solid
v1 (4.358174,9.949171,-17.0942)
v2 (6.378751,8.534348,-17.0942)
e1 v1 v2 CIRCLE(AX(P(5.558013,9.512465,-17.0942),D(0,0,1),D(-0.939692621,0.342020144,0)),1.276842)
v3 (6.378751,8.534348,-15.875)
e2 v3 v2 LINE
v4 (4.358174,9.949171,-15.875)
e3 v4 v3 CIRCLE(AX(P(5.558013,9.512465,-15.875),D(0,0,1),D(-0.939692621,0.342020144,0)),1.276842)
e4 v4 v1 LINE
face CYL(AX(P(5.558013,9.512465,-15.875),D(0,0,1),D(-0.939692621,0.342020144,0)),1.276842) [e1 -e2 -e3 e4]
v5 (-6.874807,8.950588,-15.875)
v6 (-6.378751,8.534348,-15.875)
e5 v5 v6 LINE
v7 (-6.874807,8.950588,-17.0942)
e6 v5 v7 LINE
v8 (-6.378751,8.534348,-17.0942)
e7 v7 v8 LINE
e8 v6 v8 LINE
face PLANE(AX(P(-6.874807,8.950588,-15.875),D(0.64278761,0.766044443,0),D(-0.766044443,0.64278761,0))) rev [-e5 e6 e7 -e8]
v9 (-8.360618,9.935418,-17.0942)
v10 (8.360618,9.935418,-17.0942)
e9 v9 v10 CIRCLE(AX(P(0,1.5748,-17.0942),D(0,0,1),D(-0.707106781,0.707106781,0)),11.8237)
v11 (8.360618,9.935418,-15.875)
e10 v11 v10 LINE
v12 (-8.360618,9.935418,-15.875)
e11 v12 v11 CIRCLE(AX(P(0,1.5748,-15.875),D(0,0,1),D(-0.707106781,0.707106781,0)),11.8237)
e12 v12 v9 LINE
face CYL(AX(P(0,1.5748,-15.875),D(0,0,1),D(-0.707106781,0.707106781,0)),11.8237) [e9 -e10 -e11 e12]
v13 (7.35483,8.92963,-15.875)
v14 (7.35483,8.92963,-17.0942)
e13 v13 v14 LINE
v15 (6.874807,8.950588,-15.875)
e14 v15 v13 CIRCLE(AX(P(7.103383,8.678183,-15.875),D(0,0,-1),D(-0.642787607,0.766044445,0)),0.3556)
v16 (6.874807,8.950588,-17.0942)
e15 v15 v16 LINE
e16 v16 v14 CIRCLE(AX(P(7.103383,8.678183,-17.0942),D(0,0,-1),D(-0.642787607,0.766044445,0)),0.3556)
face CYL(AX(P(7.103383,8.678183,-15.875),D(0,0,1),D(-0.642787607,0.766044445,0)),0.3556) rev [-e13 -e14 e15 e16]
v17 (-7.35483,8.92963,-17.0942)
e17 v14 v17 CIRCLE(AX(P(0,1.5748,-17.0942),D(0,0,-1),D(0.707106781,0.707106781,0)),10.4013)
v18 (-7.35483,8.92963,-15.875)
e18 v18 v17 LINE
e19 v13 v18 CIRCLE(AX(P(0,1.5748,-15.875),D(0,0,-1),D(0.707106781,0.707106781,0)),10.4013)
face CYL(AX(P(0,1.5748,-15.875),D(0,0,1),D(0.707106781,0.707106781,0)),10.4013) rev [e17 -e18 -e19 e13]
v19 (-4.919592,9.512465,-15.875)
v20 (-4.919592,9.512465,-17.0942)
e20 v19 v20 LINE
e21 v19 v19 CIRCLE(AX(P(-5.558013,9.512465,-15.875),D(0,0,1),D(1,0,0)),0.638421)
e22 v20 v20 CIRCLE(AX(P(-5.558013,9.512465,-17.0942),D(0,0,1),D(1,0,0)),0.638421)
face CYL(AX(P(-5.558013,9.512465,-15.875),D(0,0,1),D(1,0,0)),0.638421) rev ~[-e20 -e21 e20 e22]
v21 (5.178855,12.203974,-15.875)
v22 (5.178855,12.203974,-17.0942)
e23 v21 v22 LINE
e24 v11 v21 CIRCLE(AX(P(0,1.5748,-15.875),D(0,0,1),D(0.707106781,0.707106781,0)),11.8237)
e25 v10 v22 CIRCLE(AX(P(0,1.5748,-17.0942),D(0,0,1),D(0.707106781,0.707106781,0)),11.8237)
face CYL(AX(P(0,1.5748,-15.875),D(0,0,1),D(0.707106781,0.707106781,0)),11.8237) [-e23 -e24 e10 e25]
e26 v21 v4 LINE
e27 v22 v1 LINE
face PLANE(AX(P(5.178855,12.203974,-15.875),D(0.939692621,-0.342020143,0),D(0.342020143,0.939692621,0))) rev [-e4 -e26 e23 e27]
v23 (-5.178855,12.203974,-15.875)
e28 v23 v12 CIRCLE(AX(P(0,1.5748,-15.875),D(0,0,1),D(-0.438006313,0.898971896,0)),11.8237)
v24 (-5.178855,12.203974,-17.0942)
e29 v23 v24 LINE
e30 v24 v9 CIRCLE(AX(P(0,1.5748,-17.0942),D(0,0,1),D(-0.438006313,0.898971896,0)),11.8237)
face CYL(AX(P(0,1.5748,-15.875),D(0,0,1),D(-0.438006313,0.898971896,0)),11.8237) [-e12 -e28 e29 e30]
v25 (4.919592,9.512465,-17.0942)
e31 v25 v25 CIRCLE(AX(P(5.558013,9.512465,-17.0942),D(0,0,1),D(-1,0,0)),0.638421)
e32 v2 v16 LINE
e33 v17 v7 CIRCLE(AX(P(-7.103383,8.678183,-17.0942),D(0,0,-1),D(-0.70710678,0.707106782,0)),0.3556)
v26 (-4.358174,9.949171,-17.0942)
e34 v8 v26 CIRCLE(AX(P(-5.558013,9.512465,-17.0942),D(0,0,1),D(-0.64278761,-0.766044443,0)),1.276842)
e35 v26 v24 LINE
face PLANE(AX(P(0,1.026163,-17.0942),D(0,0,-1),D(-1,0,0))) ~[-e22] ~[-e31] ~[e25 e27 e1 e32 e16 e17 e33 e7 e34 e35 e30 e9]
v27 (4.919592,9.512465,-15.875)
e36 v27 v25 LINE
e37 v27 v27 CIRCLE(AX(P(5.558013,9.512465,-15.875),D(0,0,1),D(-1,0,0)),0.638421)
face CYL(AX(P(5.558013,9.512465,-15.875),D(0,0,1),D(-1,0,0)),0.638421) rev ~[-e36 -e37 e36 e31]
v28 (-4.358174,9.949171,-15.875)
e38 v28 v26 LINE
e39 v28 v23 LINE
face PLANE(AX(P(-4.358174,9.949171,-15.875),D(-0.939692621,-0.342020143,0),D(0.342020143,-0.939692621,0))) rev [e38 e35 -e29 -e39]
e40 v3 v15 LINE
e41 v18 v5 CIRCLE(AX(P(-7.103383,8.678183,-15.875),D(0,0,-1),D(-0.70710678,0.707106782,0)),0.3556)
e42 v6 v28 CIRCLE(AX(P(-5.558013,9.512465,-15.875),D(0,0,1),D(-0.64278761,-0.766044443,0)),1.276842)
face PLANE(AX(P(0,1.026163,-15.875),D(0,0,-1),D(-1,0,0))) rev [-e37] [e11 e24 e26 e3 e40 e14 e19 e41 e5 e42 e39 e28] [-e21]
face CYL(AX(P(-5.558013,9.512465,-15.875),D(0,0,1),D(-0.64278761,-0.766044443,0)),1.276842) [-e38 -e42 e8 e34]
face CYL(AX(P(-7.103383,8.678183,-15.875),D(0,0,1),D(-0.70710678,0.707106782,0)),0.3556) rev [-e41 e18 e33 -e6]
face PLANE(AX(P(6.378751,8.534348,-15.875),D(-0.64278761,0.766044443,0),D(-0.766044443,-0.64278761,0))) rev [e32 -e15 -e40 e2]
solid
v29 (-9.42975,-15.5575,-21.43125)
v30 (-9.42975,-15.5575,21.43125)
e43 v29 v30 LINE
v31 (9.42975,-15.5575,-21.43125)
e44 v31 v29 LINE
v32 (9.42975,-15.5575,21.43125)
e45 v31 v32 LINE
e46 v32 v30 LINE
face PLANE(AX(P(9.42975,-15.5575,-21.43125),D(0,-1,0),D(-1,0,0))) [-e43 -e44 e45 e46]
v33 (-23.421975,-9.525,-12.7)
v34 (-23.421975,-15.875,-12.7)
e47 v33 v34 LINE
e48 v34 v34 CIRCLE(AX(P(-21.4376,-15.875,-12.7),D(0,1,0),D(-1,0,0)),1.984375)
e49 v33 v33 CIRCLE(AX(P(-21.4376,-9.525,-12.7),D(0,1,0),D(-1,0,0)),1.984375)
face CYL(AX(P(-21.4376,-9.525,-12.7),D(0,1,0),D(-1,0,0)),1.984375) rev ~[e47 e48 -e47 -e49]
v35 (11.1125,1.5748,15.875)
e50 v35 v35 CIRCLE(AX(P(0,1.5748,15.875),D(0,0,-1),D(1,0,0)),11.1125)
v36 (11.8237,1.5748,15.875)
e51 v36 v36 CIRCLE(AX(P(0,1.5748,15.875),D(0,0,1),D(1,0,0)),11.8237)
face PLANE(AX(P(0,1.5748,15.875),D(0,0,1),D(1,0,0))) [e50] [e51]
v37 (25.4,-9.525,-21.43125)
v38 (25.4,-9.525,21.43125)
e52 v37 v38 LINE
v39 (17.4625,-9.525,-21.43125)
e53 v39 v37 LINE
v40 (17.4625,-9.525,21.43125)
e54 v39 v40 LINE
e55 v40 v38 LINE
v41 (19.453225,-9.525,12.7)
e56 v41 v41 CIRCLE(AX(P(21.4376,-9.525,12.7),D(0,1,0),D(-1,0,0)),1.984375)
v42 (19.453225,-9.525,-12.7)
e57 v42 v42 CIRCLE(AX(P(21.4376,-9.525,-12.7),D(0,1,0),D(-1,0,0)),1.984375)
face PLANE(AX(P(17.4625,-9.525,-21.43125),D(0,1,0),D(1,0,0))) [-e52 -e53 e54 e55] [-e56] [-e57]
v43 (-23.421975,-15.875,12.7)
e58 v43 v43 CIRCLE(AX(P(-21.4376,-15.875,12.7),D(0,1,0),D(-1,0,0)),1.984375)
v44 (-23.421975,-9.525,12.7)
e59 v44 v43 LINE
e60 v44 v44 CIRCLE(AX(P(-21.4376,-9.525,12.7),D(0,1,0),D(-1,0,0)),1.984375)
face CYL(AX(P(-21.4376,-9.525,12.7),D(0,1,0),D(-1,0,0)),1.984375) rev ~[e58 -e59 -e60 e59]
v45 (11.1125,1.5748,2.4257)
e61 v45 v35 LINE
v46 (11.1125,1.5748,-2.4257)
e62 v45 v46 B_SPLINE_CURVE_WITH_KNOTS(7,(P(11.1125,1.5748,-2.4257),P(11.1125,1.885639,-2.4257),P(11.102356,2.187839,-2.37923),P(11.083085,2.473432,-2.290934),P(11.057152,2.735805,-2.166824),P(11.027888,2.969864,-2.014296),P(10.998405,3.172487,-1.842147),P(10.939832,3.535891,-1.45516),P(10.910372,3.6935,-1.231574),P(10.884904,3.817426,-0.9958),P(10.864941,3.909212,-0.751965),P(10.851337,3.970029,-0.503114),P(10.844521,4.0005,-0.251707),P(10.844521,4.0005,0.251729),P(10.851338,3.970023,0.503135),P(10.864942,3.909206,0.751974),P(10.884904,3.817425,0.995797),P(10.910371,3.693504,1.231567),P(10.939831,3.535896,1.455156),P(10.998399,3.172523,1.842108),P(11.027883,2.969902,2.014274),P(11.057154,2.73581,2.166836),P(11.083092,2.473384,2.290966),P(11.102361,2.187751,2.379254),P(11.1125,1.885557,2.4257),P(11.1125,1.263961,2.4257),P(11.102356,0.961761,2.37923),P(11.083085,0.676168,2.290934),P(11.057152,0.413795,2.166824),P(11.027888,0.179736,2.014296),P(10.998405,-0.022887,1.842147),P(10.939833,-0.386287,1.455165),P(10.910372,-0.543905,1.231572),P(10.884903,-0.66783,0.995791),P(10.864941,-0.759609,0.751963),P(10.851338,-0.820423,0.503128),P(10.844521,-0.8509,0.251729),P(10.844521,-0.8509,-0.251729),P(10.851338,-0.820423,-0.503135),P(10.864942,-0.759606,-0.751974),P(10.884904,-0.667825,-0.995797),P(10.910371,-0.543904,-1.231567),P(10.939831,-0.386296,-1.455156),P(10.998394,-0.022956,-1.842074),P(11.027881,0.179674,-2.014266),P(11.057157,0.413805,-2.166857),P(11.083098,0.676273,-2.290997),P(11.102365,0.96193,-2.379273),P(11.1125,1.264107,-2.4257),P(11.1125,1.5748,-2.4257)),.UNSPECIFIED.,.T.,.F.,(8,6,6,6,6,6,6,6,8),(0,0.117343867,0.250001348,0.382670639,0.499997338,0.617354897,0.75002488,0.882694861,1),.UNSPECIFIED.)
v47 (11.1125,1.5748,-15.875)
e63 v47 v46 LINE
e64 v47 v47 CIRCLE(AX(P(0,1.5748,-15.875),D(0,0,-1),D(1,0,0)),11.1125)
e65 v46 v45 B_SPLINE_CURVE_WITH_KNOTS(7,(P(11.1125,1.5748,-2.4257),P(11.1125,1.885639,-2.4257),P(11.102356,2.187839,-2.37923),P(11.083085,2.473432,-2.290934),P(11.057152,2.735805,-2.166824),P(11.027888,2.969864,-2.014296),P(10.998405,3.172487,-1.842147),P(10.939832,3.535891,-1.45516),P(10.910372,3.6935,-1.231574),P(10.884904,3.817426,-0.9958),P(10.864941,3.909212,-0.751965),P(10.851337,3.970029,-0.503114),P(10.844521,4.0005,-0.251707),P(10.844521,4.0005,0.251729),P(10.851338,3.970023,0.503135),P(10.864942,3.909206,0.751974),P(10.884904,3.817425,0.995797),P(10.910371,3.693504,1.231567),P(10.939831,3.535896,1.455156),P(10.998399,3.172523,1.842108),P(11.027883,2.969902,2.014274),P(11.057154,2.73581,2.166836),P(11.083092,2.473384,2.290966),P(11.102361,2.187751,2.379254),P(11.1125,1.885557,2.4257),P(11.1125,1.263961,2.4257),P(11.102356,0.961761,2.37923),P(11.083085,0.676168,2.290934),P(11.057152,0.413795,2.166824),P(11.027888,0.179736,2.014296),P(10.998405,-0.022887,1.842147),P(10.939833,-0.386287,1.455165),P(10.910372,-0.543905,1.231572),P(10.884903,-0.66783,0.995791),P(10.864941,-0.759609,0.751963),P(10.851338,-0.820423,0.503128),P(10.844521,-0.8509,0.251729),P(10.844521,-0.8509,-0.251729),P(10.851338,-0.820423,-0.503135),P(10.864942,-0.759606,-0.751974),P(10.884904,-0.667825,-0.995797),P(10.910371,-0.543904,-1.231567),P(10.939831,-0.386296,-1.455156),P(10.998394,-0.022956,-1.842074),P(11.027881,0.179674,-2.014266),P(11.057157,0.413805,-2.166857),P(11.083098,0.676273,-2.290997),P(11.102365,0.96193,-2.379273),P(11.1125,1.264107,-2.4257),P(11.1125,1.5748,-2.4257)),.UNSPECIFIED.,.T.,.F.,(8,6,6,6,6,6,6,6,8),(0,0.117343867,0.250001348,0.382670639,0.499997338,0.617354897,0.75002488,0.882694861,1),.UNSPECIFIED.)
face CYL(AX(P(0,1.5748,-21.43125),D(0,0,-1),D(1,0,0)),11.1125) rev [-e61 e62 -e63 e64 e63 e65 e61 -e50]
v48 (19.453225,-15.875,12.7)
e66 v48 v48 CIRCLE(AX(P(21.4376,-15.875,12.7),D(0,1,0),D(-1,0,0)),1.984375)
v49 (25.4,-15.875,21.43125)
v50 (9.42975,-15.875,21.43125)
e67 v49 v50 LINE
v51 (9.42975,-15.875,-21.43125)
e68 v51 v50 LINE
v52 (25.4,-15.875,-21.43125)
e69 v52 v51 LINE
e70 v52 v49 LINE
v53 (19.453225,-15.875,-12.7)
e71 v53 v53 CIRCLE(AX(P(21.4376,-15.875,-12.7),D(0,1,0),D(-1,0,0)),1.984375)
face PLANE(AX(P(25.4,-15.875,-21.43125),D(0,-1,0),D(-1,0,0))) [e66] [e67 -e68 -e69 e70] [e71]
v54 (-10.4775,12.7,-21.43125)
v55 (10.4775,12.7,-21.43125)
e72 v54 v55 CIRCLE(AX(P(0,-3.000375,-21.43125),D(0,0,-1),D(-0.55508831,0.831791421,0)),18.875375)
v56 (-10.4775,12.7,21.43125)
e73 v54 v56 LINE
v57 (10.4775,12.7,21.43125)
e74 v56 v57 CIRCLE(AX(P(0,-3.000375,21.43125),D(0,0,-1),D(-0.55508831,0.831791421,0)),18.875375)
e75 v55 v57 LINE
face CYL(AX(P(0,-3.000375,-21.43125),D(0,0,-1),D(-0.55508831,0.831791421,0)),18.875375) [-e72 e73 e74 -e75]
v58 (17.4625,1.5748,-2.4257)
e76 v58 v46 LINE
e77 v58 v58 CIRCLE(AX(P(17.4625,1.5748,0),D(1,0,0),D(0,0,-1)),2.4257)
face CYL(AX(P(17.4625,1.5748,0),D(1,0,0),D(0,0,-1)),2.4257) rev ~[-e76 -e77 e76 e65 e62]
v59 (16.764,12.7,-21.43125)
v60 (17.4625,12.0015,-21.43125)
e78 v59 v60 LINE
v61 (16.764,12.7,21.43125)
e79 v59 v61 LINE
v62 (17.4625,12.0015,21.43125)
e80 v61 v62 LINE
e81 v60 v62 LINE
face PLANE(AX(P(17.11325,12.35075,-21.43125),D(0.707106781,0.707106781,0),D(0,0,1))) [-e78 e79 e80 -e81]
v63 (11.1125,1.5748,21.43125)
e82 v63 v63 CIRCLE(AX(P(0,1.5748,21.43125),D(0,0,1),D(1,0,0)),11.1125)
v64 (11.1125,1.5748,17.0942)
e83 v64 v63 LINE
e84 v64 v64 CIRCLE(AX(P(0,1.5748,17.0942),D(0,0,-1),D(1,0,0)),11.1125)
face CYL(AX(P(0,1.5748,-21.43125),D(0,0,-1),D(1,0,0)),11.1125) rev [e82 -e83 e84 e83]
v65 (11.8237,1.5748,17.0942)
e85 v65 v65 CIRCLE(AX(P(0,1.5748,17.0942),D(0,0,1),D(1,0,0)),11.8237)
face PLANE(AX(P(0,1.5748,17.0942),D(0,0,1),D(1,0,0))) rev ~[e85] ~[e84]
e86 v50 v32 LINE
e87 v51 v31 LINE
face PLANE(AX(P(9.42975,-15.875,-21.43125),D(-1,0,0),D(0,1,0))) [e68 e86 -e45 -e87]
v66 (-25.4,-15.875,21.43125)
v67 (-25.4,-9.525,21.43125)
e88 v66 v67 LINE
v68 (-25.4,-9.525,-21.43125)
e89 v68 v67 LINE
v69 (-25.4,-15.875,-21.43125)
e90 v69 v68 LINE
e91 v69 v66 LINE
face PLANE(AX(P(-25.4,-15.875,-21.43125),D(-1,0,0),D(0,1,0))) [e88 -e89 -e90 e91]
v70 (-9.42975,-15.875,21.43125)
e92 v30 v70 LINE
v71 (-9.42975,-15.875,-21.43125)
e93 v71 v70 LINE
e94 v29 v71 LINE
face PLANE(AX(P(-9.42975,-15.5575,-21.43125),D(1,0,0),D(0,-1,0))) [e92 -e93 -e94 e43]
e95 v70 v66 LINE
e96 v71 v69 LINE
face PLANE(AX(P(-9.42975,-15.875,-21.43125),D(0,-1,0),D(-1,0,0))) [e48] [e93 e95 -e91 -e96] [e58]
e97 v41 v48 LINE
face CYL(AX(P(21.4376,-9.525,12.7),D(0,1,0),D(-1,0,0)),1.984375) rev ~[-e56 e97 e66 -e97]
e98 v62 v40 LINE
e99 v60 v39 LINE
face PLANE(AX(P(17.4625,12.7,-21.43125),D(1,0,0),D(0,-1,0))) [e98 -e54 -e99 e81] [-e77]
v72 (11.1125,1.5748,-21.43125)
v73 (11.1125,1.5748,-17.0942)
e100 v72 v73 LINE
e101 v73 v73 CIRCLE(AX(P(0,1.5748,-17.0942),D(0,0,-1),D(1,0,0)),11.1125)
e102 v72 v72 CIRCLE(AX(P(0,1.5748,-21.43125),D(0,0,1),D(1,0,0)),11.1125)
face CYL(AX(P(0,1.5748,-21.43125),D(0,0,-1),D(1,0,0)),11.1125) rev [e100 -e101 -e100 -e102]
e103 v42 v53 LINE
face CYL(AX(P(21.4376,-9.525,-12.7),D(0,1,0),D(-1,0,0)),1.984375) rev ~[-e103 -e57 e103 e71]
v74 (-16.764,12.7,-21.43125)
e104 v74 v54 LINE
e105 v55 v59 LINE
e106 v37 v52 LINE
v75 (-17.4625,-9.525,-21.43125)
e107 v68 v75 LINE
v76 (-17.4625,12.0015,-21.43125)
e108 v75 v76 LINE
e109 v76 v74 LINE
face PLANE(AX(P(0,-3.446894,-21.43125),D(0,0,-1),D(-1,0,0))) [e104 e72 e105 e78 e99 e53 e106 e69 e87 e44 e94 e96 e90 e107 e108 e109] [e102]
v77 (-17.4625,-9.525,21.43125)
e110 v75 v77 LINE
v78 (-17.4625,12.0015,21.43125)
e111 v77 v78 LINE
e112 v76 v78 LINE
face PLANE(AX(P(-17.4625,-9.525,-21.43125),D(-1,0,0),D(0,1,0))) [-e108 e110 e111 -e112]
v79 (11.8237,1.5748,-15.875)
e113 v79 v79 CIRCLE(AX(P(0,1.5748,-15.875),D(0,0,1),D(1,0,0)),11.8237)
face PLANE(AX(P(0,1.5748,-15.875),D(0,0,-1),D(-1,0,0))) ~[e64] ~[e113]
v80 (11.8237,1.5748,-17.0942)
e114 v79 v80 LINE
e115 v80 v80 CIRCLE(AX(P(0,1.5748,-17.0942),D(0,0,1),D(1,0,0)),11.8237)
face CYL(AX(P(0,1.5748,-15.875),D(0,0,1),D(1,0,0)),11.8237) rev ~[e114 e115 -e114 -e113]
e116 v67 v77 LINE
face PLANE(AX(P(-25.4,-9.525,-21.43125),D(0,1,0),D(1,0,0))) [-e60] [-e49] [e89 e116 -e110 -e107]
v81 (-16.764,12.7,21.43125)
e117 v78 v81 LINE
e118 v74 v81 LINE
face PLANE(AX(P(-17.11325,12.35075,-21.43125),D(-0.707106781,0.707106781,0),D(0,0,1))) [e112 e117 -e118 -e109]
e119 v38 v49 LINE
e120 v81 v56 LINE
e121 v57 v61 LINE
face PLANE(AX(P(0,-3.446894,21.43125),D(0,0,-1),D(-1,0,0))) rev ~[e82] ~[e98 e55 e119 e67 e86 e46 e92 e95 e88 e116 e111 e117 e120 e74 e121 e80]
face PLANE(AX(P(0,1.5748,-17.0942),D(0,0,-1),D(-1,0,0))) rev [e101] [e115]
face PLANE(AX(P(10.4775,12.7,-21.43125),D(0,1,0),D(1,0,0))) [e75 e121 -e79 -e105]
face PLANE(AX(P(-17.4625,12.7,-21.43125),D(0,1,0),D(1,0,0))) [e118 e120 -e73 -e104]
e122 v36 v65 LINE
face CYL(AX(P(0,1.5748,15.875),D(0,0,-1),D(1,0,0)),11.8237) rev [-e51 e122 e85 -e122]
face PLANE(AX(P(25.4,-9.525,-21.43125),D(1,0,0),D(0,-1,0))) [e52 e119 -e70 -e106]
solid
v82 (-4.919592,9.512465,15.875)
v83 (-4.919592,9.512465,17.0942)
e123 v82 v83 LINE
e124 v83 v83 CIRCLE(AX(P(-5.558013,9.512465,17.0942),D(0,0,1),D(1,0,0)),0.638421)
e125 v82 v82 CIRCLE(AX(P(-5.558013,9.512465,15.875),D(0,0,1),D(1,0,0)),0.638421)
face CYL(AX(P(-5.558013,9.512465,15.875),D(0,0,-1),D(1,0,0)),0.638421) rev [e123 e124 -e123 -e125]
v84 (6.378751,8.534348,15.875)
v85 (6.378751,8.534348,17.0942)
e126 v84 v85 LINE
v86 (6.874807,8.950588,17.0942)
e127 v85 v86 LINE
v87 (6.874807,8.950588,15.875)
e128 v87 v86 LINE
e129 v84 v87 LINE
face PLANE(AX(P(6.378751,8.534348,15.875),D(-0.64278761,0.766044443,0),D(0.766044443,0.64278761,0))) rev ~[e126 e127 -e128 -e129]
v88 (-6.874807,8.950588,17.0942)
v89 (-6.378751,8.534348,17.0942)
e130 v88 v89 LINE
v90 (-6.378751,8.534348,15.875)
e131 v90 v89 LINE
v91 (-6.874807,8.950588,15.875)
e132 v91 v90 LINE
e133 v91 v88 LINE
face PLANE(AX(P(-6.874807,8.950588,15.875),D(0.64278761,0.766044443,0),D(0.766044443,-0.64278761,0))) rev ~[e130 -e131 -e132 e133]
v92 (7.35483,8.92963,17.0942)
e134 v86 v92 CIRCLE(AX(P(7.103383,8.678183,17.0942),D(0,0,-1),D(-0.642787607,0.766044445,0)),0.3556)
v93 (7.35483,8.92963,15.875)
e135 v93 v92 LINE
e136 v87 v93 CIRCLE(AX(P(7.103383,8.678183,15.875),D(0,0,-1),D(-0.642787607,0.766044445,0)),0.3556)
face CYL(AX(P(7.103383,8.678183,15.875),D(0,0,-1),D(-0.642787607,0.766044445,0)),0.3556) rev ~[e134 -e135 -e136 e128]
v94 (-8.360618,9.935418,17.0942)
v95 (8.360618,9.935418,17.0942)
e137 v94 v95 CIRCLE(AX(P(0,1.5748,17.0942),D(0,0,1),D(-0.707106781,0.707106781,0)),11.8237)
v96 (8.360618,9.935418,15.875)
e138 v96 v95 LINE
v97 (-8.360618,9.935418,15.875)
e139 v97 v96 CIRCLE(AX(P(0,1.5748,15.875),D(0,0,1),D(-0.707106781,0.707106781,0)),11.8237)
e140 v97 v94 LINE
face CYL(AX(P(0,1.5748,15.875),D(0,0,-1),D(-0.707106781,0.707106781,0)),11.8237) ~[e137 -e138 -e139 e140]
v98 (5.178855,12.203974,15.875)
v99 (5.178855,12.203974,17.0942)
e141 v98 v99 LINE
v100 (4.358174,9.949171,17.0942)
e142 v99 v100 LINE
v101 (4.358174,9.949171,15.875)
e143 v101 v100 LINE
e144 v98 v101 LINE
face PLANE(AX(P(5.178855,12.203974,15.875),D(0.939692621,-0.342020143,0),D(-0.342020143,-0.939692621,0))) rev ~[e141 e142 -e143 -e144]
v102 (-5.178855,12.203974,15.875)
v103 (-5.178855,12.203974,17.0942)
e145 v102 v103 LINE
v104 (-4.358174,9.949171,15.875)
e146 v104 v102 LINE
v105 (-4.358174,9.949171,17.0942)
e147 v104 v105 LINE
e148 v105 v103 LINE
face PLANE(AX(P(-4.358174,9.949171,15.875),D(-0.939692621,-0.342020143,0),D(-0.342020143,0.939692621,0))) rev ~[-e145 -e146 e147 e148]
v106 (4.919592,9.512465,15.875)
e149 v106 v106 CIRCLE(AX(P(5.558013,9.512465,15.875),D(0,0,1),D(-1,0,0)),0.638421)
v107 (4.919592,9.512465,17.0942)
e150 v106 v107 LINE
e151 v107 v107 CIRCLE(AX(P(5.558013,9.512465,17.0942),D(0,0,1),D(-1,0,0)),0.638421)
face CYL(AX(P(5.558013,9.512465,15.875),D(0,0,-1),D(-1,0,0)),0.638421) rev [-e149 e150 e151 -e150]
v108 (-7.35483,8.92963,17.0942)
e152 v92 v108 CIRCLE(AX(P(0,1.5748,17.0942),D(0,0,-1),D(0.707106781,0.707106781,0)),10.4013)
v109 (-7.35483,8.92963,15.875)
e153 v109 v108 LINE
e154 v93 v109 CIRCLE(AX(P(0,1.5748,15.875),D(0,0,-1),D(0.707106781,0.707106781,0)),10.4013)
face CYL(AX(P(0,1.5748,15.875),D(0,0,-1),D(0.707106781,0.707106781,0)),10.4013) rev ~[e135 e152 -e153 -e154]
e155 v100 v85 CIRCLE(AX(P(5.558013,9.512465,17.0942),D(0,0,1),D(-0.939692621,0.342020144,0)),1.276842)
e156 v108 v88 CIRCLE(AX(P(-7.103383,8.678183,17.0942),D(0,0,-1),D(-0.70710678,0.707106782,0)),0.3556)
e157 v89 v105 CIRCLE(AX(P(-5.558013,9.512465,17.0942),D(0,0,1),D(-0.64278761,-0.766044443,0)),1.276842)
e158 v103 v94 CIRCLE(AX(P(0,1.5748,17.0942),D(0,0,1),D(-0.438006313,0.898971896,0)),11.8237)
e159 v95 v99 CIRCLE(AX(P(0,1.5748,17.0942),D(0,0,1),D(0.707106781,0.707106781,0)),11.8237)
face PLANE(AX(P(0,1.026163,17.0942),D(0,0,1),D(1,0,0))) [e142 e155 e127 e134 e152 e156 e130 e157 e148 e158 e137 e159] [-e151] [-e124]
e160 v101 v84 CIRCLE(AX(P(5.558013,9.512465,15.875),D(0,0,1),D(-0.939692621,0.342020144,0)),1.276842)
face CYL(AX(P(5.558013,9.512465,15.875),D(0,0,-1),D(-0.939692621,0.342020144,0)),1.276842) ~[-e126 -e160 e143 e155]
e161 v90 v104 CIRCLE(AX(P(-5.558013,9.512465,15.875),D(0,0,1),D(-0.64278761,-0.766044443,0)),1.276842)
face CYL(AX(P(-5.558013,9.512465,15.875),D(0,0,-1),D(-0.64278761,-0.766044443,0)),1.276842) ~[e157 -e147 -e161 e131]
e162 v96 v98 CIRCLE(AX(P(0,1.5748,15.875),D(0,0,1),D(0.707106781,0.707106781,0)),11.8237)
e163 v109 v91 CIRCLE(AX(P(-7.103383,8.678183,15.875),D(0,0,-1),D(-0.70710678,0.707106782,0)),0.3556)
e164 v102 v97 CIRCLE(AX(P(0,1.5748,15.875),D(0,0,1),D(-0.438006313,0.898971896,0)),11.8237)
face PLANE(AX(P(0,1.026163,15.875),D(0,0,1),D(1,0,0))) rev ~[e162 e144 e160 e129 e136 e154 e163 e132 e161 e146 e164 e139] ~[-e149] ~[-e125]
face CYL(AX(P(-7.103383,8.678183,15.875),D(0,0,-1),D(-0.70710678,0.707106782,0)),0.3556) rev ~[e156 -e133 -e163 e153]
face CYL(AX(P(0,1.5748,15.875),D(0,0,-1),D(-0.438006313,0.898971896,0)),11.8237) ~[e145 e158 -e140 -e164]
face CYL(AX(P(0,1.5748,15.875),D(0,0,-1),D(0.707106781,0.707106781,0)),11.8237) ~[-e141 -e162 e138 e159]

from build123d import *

# Parameters (mm, degrees)
BOSS_EXTRUDE1_START     = -21.43125
SKETCH4_R               = 11.1125
BOSS_EXTRUDE1_DEPTH     = 42.8625
SKETCH5_R               = 1.984375
CUT_EXTRUDE1_DEPTH      = 42.828441001
CHAMFER1_SIZE           = 0.6985
SKETCH6_R               = 11.8237
CUT_EXTRUDE2_DEPTH      = 1.2192
CUT_EXTRUDE3_REACH      = 52.483
CUT_EXTRUDE3_END_RADIUS = 11.1125
SKETCH7_R               = 2.4257
SKETCH8_R               = 0.638420992
BOSS_EXTRUDE2_DEPTH     = 1.2192


with BuildPart() as part:
    # Sketch4 → Boss-Extrude1 (new body)
    with BuildSketch(Plane.XY.offset(BOSS_EXTRUDE1_START)):
        with BuildLine():
            Line((-25.4, -9.525), (-17.4625, -9.525))
            Line((-17.4625, -9.525), (-17.4625, 12.7))
            Line((-17.4625, 12.7), (-10.4775, 12.7))
            ThreePointArc((-10.4775, 12.7), (0, 15.875), (10.4775, 12.7))
            Line((10.4775, 12.7), (17.4625, 12.7))
            Line((17.4625, 12.7), (17.4625, -9.525))
            Line((17.4625, -9.525), (25.4, -9.525))
            Line((25.4, -9.525), (25.4, -15.875))
            Line((25.4, -15.875), (9.42975, -15.875))
            Line((9.42975, -15.875), (9.42975, -15.5575))
            Line((9.42975, -15.5575), (-9.42975, -15.5575))
            Line((-9.42975, -15.5575), (-9.42975, -15.875))
            Line((-9.42975, -15.875), (-25.4, -15.875))
            Line((-25.4, -15.875), (-25.4, -9.525))
        make_face()
        with Locations((0, 1.5748)):
            Circle(SKETCH4_R, mode=Mode.SUBTRACT)
    extrude(amount=BOSS_EXTRUDE1_DEPTH)

    # Sketch5 → Cut-Extrude1 (cut, through all)
    with BuildSketch(Plane(origin=(0, -9.525, 0), x_dir=(1, 0, 0), z_dir=(0, 1, 0))):
        with Locations(Location((-21.4376, 12.7, 0), (0, 0, 180))):
            Circle(SKETCH5_R)
        with Locations(Location((21.4376, 12.7, 0), (0, 0, 180))):
            Circle(SKETCH5_R)
        with Locations(Location((21.4376, -12.7, 0), (0, 0, 180))):
            Circle(SKETCH5_R)
        with Locations(Location((-21.4376, -12.7, 0), (0, 0, 180))):
            Circle(SKETCH5_R)
    extrude(amount=-CUT_EXTRUDE1_DEPTH, mode=Mode.SUBTRACT)

    # Chamfer1
    chamfer1_edges = [part.edges().sort_by_distance(p)[0] for p in [
        (-17.4625, 12.7, 0),
        (17.4625, 12.7, 0),
    ]]
    chamfer(chamfer1_edges, length=CHAMFER1_SIZE)

    # Sketch6 → Cut-Extrude2 (cut)
    with BuildSketch(Plane.XY.offset(15.875)):
        with Locations((0, 1.5748)):
            Circle(SKETCH6_R)
    cut_extrude2 = extrude(amount=CUT_EXTRUDE2_DEPTH, mode=Mode.SUBTRACT)

    # Mirror1: Cut-Extrude2 across plane
    add(cut_extrude2.mirror(Plane.XY), mode=Mode.SUBTRACT)

    # Cut-Extrude3: up to this cylinder (the profile starts outside it)
    cut_extrude3_end = Plane(origin=(0, 1.5748, 0), z_dir=(0, 0, -1)) * Cylinder(CUT_EXTRUDE3_END_RADIUS, 128.191, mode=Mode.PRIVATE)
    # Sketch7 → Cut-Extrude3 (cut, up to the surface)
    with BuildSketch(Plane(origin=(17.4625, 0, 0), x_dir=(0, 0, -1), z_dir=(1, 0, 0)), mode=Mode.PRIVATE) as cut_extrude3_sk1:
        with Locations((0, 1.5748)):
            Circle(SKETCH7_R)
    cut_extrude3_tool1 = extrude(cut_extrude3_sk1.sketch, amount=-CUT_EXTRUDE3_REACH, mode=Mode.PRIVATE) - cut_extrude3_end
    add(cut_extrude3_tool1.solids().sort_by_distance((17.4625, 1.5748, 0))[0], mode=Mode.SUBTRACT)


with BuildPart() as body_2:
    # Sketch8 → Boss-Extrude2 (new body)
    with BuildSketch(Plane.XY.offset(15.875)):
        with BuildLine():
            Line((-4.358174036, 9.949170903), (-5.178855249, 12.203974004))
            ThreePointArc((-5.178855249, 12.203974004), (-6.864103953, 11.202050834), (-8.360618449, 9.935418449))
            ThreePointArc((-8.360618449, 9.935418449), (0, -10.2489), (8.360618449, 9.935418449))
            ThreePointArc((8.360618449, 9.935418449), (6.864103953, 11.202050834), (5.178855249, 12.203974004))
            Line((5.178855249, 12.203974004), (4.358174036, 9.949170903))
            ThreePointArc((4.358174036, 9.949170903), (4.825646551, 8.466537503), (6.378751233, 8.534347518))
            Line((6.378751233, 8.534347518), (6.874807318, 8.950587996))
            ThreePointArc((6.874807318, 8.950587996), (7.118893646, 9.033444139), (7.354829763, 8.929629763))
            ThreePointArc((7.354829763, 8.929629763), (0, -8.8265), (-7.354829763, 8.929629763))
            ThreePointArc((-7.354829763, 8.929629763), (-7.118893646, 9.033444139), (-6.874807318, 8.950587996))
            Line((-6.874807318, 8.950587996), (-6.378751233, 8.534347518))
            ThreePointArc((-6.378751233, 8.534347518), (-4.825646551, 8.466537503), (-4.358174036, 9.949170903))
        make_face()
        with Locations((-5.558013026, 9.512465224)):
            Circle(SKETCH8_R, mode=Mode.SUBTRACT)
        with Locations(Location((5.558013026, 9.512465224, 0), (0, 0, 180))):
            Circle(SKETCH8_R, mode=Mode.SUBTRACT)
    extrude(amount=BOSS_EXTRUDE2_DEPTH)


with BuildPart() as body_3:
    # Mirror2: mirrored copy
    add(body_2.part.mirror(Plane.XY))


solid = Compound([part.part, body_2.part, body_3.part])
